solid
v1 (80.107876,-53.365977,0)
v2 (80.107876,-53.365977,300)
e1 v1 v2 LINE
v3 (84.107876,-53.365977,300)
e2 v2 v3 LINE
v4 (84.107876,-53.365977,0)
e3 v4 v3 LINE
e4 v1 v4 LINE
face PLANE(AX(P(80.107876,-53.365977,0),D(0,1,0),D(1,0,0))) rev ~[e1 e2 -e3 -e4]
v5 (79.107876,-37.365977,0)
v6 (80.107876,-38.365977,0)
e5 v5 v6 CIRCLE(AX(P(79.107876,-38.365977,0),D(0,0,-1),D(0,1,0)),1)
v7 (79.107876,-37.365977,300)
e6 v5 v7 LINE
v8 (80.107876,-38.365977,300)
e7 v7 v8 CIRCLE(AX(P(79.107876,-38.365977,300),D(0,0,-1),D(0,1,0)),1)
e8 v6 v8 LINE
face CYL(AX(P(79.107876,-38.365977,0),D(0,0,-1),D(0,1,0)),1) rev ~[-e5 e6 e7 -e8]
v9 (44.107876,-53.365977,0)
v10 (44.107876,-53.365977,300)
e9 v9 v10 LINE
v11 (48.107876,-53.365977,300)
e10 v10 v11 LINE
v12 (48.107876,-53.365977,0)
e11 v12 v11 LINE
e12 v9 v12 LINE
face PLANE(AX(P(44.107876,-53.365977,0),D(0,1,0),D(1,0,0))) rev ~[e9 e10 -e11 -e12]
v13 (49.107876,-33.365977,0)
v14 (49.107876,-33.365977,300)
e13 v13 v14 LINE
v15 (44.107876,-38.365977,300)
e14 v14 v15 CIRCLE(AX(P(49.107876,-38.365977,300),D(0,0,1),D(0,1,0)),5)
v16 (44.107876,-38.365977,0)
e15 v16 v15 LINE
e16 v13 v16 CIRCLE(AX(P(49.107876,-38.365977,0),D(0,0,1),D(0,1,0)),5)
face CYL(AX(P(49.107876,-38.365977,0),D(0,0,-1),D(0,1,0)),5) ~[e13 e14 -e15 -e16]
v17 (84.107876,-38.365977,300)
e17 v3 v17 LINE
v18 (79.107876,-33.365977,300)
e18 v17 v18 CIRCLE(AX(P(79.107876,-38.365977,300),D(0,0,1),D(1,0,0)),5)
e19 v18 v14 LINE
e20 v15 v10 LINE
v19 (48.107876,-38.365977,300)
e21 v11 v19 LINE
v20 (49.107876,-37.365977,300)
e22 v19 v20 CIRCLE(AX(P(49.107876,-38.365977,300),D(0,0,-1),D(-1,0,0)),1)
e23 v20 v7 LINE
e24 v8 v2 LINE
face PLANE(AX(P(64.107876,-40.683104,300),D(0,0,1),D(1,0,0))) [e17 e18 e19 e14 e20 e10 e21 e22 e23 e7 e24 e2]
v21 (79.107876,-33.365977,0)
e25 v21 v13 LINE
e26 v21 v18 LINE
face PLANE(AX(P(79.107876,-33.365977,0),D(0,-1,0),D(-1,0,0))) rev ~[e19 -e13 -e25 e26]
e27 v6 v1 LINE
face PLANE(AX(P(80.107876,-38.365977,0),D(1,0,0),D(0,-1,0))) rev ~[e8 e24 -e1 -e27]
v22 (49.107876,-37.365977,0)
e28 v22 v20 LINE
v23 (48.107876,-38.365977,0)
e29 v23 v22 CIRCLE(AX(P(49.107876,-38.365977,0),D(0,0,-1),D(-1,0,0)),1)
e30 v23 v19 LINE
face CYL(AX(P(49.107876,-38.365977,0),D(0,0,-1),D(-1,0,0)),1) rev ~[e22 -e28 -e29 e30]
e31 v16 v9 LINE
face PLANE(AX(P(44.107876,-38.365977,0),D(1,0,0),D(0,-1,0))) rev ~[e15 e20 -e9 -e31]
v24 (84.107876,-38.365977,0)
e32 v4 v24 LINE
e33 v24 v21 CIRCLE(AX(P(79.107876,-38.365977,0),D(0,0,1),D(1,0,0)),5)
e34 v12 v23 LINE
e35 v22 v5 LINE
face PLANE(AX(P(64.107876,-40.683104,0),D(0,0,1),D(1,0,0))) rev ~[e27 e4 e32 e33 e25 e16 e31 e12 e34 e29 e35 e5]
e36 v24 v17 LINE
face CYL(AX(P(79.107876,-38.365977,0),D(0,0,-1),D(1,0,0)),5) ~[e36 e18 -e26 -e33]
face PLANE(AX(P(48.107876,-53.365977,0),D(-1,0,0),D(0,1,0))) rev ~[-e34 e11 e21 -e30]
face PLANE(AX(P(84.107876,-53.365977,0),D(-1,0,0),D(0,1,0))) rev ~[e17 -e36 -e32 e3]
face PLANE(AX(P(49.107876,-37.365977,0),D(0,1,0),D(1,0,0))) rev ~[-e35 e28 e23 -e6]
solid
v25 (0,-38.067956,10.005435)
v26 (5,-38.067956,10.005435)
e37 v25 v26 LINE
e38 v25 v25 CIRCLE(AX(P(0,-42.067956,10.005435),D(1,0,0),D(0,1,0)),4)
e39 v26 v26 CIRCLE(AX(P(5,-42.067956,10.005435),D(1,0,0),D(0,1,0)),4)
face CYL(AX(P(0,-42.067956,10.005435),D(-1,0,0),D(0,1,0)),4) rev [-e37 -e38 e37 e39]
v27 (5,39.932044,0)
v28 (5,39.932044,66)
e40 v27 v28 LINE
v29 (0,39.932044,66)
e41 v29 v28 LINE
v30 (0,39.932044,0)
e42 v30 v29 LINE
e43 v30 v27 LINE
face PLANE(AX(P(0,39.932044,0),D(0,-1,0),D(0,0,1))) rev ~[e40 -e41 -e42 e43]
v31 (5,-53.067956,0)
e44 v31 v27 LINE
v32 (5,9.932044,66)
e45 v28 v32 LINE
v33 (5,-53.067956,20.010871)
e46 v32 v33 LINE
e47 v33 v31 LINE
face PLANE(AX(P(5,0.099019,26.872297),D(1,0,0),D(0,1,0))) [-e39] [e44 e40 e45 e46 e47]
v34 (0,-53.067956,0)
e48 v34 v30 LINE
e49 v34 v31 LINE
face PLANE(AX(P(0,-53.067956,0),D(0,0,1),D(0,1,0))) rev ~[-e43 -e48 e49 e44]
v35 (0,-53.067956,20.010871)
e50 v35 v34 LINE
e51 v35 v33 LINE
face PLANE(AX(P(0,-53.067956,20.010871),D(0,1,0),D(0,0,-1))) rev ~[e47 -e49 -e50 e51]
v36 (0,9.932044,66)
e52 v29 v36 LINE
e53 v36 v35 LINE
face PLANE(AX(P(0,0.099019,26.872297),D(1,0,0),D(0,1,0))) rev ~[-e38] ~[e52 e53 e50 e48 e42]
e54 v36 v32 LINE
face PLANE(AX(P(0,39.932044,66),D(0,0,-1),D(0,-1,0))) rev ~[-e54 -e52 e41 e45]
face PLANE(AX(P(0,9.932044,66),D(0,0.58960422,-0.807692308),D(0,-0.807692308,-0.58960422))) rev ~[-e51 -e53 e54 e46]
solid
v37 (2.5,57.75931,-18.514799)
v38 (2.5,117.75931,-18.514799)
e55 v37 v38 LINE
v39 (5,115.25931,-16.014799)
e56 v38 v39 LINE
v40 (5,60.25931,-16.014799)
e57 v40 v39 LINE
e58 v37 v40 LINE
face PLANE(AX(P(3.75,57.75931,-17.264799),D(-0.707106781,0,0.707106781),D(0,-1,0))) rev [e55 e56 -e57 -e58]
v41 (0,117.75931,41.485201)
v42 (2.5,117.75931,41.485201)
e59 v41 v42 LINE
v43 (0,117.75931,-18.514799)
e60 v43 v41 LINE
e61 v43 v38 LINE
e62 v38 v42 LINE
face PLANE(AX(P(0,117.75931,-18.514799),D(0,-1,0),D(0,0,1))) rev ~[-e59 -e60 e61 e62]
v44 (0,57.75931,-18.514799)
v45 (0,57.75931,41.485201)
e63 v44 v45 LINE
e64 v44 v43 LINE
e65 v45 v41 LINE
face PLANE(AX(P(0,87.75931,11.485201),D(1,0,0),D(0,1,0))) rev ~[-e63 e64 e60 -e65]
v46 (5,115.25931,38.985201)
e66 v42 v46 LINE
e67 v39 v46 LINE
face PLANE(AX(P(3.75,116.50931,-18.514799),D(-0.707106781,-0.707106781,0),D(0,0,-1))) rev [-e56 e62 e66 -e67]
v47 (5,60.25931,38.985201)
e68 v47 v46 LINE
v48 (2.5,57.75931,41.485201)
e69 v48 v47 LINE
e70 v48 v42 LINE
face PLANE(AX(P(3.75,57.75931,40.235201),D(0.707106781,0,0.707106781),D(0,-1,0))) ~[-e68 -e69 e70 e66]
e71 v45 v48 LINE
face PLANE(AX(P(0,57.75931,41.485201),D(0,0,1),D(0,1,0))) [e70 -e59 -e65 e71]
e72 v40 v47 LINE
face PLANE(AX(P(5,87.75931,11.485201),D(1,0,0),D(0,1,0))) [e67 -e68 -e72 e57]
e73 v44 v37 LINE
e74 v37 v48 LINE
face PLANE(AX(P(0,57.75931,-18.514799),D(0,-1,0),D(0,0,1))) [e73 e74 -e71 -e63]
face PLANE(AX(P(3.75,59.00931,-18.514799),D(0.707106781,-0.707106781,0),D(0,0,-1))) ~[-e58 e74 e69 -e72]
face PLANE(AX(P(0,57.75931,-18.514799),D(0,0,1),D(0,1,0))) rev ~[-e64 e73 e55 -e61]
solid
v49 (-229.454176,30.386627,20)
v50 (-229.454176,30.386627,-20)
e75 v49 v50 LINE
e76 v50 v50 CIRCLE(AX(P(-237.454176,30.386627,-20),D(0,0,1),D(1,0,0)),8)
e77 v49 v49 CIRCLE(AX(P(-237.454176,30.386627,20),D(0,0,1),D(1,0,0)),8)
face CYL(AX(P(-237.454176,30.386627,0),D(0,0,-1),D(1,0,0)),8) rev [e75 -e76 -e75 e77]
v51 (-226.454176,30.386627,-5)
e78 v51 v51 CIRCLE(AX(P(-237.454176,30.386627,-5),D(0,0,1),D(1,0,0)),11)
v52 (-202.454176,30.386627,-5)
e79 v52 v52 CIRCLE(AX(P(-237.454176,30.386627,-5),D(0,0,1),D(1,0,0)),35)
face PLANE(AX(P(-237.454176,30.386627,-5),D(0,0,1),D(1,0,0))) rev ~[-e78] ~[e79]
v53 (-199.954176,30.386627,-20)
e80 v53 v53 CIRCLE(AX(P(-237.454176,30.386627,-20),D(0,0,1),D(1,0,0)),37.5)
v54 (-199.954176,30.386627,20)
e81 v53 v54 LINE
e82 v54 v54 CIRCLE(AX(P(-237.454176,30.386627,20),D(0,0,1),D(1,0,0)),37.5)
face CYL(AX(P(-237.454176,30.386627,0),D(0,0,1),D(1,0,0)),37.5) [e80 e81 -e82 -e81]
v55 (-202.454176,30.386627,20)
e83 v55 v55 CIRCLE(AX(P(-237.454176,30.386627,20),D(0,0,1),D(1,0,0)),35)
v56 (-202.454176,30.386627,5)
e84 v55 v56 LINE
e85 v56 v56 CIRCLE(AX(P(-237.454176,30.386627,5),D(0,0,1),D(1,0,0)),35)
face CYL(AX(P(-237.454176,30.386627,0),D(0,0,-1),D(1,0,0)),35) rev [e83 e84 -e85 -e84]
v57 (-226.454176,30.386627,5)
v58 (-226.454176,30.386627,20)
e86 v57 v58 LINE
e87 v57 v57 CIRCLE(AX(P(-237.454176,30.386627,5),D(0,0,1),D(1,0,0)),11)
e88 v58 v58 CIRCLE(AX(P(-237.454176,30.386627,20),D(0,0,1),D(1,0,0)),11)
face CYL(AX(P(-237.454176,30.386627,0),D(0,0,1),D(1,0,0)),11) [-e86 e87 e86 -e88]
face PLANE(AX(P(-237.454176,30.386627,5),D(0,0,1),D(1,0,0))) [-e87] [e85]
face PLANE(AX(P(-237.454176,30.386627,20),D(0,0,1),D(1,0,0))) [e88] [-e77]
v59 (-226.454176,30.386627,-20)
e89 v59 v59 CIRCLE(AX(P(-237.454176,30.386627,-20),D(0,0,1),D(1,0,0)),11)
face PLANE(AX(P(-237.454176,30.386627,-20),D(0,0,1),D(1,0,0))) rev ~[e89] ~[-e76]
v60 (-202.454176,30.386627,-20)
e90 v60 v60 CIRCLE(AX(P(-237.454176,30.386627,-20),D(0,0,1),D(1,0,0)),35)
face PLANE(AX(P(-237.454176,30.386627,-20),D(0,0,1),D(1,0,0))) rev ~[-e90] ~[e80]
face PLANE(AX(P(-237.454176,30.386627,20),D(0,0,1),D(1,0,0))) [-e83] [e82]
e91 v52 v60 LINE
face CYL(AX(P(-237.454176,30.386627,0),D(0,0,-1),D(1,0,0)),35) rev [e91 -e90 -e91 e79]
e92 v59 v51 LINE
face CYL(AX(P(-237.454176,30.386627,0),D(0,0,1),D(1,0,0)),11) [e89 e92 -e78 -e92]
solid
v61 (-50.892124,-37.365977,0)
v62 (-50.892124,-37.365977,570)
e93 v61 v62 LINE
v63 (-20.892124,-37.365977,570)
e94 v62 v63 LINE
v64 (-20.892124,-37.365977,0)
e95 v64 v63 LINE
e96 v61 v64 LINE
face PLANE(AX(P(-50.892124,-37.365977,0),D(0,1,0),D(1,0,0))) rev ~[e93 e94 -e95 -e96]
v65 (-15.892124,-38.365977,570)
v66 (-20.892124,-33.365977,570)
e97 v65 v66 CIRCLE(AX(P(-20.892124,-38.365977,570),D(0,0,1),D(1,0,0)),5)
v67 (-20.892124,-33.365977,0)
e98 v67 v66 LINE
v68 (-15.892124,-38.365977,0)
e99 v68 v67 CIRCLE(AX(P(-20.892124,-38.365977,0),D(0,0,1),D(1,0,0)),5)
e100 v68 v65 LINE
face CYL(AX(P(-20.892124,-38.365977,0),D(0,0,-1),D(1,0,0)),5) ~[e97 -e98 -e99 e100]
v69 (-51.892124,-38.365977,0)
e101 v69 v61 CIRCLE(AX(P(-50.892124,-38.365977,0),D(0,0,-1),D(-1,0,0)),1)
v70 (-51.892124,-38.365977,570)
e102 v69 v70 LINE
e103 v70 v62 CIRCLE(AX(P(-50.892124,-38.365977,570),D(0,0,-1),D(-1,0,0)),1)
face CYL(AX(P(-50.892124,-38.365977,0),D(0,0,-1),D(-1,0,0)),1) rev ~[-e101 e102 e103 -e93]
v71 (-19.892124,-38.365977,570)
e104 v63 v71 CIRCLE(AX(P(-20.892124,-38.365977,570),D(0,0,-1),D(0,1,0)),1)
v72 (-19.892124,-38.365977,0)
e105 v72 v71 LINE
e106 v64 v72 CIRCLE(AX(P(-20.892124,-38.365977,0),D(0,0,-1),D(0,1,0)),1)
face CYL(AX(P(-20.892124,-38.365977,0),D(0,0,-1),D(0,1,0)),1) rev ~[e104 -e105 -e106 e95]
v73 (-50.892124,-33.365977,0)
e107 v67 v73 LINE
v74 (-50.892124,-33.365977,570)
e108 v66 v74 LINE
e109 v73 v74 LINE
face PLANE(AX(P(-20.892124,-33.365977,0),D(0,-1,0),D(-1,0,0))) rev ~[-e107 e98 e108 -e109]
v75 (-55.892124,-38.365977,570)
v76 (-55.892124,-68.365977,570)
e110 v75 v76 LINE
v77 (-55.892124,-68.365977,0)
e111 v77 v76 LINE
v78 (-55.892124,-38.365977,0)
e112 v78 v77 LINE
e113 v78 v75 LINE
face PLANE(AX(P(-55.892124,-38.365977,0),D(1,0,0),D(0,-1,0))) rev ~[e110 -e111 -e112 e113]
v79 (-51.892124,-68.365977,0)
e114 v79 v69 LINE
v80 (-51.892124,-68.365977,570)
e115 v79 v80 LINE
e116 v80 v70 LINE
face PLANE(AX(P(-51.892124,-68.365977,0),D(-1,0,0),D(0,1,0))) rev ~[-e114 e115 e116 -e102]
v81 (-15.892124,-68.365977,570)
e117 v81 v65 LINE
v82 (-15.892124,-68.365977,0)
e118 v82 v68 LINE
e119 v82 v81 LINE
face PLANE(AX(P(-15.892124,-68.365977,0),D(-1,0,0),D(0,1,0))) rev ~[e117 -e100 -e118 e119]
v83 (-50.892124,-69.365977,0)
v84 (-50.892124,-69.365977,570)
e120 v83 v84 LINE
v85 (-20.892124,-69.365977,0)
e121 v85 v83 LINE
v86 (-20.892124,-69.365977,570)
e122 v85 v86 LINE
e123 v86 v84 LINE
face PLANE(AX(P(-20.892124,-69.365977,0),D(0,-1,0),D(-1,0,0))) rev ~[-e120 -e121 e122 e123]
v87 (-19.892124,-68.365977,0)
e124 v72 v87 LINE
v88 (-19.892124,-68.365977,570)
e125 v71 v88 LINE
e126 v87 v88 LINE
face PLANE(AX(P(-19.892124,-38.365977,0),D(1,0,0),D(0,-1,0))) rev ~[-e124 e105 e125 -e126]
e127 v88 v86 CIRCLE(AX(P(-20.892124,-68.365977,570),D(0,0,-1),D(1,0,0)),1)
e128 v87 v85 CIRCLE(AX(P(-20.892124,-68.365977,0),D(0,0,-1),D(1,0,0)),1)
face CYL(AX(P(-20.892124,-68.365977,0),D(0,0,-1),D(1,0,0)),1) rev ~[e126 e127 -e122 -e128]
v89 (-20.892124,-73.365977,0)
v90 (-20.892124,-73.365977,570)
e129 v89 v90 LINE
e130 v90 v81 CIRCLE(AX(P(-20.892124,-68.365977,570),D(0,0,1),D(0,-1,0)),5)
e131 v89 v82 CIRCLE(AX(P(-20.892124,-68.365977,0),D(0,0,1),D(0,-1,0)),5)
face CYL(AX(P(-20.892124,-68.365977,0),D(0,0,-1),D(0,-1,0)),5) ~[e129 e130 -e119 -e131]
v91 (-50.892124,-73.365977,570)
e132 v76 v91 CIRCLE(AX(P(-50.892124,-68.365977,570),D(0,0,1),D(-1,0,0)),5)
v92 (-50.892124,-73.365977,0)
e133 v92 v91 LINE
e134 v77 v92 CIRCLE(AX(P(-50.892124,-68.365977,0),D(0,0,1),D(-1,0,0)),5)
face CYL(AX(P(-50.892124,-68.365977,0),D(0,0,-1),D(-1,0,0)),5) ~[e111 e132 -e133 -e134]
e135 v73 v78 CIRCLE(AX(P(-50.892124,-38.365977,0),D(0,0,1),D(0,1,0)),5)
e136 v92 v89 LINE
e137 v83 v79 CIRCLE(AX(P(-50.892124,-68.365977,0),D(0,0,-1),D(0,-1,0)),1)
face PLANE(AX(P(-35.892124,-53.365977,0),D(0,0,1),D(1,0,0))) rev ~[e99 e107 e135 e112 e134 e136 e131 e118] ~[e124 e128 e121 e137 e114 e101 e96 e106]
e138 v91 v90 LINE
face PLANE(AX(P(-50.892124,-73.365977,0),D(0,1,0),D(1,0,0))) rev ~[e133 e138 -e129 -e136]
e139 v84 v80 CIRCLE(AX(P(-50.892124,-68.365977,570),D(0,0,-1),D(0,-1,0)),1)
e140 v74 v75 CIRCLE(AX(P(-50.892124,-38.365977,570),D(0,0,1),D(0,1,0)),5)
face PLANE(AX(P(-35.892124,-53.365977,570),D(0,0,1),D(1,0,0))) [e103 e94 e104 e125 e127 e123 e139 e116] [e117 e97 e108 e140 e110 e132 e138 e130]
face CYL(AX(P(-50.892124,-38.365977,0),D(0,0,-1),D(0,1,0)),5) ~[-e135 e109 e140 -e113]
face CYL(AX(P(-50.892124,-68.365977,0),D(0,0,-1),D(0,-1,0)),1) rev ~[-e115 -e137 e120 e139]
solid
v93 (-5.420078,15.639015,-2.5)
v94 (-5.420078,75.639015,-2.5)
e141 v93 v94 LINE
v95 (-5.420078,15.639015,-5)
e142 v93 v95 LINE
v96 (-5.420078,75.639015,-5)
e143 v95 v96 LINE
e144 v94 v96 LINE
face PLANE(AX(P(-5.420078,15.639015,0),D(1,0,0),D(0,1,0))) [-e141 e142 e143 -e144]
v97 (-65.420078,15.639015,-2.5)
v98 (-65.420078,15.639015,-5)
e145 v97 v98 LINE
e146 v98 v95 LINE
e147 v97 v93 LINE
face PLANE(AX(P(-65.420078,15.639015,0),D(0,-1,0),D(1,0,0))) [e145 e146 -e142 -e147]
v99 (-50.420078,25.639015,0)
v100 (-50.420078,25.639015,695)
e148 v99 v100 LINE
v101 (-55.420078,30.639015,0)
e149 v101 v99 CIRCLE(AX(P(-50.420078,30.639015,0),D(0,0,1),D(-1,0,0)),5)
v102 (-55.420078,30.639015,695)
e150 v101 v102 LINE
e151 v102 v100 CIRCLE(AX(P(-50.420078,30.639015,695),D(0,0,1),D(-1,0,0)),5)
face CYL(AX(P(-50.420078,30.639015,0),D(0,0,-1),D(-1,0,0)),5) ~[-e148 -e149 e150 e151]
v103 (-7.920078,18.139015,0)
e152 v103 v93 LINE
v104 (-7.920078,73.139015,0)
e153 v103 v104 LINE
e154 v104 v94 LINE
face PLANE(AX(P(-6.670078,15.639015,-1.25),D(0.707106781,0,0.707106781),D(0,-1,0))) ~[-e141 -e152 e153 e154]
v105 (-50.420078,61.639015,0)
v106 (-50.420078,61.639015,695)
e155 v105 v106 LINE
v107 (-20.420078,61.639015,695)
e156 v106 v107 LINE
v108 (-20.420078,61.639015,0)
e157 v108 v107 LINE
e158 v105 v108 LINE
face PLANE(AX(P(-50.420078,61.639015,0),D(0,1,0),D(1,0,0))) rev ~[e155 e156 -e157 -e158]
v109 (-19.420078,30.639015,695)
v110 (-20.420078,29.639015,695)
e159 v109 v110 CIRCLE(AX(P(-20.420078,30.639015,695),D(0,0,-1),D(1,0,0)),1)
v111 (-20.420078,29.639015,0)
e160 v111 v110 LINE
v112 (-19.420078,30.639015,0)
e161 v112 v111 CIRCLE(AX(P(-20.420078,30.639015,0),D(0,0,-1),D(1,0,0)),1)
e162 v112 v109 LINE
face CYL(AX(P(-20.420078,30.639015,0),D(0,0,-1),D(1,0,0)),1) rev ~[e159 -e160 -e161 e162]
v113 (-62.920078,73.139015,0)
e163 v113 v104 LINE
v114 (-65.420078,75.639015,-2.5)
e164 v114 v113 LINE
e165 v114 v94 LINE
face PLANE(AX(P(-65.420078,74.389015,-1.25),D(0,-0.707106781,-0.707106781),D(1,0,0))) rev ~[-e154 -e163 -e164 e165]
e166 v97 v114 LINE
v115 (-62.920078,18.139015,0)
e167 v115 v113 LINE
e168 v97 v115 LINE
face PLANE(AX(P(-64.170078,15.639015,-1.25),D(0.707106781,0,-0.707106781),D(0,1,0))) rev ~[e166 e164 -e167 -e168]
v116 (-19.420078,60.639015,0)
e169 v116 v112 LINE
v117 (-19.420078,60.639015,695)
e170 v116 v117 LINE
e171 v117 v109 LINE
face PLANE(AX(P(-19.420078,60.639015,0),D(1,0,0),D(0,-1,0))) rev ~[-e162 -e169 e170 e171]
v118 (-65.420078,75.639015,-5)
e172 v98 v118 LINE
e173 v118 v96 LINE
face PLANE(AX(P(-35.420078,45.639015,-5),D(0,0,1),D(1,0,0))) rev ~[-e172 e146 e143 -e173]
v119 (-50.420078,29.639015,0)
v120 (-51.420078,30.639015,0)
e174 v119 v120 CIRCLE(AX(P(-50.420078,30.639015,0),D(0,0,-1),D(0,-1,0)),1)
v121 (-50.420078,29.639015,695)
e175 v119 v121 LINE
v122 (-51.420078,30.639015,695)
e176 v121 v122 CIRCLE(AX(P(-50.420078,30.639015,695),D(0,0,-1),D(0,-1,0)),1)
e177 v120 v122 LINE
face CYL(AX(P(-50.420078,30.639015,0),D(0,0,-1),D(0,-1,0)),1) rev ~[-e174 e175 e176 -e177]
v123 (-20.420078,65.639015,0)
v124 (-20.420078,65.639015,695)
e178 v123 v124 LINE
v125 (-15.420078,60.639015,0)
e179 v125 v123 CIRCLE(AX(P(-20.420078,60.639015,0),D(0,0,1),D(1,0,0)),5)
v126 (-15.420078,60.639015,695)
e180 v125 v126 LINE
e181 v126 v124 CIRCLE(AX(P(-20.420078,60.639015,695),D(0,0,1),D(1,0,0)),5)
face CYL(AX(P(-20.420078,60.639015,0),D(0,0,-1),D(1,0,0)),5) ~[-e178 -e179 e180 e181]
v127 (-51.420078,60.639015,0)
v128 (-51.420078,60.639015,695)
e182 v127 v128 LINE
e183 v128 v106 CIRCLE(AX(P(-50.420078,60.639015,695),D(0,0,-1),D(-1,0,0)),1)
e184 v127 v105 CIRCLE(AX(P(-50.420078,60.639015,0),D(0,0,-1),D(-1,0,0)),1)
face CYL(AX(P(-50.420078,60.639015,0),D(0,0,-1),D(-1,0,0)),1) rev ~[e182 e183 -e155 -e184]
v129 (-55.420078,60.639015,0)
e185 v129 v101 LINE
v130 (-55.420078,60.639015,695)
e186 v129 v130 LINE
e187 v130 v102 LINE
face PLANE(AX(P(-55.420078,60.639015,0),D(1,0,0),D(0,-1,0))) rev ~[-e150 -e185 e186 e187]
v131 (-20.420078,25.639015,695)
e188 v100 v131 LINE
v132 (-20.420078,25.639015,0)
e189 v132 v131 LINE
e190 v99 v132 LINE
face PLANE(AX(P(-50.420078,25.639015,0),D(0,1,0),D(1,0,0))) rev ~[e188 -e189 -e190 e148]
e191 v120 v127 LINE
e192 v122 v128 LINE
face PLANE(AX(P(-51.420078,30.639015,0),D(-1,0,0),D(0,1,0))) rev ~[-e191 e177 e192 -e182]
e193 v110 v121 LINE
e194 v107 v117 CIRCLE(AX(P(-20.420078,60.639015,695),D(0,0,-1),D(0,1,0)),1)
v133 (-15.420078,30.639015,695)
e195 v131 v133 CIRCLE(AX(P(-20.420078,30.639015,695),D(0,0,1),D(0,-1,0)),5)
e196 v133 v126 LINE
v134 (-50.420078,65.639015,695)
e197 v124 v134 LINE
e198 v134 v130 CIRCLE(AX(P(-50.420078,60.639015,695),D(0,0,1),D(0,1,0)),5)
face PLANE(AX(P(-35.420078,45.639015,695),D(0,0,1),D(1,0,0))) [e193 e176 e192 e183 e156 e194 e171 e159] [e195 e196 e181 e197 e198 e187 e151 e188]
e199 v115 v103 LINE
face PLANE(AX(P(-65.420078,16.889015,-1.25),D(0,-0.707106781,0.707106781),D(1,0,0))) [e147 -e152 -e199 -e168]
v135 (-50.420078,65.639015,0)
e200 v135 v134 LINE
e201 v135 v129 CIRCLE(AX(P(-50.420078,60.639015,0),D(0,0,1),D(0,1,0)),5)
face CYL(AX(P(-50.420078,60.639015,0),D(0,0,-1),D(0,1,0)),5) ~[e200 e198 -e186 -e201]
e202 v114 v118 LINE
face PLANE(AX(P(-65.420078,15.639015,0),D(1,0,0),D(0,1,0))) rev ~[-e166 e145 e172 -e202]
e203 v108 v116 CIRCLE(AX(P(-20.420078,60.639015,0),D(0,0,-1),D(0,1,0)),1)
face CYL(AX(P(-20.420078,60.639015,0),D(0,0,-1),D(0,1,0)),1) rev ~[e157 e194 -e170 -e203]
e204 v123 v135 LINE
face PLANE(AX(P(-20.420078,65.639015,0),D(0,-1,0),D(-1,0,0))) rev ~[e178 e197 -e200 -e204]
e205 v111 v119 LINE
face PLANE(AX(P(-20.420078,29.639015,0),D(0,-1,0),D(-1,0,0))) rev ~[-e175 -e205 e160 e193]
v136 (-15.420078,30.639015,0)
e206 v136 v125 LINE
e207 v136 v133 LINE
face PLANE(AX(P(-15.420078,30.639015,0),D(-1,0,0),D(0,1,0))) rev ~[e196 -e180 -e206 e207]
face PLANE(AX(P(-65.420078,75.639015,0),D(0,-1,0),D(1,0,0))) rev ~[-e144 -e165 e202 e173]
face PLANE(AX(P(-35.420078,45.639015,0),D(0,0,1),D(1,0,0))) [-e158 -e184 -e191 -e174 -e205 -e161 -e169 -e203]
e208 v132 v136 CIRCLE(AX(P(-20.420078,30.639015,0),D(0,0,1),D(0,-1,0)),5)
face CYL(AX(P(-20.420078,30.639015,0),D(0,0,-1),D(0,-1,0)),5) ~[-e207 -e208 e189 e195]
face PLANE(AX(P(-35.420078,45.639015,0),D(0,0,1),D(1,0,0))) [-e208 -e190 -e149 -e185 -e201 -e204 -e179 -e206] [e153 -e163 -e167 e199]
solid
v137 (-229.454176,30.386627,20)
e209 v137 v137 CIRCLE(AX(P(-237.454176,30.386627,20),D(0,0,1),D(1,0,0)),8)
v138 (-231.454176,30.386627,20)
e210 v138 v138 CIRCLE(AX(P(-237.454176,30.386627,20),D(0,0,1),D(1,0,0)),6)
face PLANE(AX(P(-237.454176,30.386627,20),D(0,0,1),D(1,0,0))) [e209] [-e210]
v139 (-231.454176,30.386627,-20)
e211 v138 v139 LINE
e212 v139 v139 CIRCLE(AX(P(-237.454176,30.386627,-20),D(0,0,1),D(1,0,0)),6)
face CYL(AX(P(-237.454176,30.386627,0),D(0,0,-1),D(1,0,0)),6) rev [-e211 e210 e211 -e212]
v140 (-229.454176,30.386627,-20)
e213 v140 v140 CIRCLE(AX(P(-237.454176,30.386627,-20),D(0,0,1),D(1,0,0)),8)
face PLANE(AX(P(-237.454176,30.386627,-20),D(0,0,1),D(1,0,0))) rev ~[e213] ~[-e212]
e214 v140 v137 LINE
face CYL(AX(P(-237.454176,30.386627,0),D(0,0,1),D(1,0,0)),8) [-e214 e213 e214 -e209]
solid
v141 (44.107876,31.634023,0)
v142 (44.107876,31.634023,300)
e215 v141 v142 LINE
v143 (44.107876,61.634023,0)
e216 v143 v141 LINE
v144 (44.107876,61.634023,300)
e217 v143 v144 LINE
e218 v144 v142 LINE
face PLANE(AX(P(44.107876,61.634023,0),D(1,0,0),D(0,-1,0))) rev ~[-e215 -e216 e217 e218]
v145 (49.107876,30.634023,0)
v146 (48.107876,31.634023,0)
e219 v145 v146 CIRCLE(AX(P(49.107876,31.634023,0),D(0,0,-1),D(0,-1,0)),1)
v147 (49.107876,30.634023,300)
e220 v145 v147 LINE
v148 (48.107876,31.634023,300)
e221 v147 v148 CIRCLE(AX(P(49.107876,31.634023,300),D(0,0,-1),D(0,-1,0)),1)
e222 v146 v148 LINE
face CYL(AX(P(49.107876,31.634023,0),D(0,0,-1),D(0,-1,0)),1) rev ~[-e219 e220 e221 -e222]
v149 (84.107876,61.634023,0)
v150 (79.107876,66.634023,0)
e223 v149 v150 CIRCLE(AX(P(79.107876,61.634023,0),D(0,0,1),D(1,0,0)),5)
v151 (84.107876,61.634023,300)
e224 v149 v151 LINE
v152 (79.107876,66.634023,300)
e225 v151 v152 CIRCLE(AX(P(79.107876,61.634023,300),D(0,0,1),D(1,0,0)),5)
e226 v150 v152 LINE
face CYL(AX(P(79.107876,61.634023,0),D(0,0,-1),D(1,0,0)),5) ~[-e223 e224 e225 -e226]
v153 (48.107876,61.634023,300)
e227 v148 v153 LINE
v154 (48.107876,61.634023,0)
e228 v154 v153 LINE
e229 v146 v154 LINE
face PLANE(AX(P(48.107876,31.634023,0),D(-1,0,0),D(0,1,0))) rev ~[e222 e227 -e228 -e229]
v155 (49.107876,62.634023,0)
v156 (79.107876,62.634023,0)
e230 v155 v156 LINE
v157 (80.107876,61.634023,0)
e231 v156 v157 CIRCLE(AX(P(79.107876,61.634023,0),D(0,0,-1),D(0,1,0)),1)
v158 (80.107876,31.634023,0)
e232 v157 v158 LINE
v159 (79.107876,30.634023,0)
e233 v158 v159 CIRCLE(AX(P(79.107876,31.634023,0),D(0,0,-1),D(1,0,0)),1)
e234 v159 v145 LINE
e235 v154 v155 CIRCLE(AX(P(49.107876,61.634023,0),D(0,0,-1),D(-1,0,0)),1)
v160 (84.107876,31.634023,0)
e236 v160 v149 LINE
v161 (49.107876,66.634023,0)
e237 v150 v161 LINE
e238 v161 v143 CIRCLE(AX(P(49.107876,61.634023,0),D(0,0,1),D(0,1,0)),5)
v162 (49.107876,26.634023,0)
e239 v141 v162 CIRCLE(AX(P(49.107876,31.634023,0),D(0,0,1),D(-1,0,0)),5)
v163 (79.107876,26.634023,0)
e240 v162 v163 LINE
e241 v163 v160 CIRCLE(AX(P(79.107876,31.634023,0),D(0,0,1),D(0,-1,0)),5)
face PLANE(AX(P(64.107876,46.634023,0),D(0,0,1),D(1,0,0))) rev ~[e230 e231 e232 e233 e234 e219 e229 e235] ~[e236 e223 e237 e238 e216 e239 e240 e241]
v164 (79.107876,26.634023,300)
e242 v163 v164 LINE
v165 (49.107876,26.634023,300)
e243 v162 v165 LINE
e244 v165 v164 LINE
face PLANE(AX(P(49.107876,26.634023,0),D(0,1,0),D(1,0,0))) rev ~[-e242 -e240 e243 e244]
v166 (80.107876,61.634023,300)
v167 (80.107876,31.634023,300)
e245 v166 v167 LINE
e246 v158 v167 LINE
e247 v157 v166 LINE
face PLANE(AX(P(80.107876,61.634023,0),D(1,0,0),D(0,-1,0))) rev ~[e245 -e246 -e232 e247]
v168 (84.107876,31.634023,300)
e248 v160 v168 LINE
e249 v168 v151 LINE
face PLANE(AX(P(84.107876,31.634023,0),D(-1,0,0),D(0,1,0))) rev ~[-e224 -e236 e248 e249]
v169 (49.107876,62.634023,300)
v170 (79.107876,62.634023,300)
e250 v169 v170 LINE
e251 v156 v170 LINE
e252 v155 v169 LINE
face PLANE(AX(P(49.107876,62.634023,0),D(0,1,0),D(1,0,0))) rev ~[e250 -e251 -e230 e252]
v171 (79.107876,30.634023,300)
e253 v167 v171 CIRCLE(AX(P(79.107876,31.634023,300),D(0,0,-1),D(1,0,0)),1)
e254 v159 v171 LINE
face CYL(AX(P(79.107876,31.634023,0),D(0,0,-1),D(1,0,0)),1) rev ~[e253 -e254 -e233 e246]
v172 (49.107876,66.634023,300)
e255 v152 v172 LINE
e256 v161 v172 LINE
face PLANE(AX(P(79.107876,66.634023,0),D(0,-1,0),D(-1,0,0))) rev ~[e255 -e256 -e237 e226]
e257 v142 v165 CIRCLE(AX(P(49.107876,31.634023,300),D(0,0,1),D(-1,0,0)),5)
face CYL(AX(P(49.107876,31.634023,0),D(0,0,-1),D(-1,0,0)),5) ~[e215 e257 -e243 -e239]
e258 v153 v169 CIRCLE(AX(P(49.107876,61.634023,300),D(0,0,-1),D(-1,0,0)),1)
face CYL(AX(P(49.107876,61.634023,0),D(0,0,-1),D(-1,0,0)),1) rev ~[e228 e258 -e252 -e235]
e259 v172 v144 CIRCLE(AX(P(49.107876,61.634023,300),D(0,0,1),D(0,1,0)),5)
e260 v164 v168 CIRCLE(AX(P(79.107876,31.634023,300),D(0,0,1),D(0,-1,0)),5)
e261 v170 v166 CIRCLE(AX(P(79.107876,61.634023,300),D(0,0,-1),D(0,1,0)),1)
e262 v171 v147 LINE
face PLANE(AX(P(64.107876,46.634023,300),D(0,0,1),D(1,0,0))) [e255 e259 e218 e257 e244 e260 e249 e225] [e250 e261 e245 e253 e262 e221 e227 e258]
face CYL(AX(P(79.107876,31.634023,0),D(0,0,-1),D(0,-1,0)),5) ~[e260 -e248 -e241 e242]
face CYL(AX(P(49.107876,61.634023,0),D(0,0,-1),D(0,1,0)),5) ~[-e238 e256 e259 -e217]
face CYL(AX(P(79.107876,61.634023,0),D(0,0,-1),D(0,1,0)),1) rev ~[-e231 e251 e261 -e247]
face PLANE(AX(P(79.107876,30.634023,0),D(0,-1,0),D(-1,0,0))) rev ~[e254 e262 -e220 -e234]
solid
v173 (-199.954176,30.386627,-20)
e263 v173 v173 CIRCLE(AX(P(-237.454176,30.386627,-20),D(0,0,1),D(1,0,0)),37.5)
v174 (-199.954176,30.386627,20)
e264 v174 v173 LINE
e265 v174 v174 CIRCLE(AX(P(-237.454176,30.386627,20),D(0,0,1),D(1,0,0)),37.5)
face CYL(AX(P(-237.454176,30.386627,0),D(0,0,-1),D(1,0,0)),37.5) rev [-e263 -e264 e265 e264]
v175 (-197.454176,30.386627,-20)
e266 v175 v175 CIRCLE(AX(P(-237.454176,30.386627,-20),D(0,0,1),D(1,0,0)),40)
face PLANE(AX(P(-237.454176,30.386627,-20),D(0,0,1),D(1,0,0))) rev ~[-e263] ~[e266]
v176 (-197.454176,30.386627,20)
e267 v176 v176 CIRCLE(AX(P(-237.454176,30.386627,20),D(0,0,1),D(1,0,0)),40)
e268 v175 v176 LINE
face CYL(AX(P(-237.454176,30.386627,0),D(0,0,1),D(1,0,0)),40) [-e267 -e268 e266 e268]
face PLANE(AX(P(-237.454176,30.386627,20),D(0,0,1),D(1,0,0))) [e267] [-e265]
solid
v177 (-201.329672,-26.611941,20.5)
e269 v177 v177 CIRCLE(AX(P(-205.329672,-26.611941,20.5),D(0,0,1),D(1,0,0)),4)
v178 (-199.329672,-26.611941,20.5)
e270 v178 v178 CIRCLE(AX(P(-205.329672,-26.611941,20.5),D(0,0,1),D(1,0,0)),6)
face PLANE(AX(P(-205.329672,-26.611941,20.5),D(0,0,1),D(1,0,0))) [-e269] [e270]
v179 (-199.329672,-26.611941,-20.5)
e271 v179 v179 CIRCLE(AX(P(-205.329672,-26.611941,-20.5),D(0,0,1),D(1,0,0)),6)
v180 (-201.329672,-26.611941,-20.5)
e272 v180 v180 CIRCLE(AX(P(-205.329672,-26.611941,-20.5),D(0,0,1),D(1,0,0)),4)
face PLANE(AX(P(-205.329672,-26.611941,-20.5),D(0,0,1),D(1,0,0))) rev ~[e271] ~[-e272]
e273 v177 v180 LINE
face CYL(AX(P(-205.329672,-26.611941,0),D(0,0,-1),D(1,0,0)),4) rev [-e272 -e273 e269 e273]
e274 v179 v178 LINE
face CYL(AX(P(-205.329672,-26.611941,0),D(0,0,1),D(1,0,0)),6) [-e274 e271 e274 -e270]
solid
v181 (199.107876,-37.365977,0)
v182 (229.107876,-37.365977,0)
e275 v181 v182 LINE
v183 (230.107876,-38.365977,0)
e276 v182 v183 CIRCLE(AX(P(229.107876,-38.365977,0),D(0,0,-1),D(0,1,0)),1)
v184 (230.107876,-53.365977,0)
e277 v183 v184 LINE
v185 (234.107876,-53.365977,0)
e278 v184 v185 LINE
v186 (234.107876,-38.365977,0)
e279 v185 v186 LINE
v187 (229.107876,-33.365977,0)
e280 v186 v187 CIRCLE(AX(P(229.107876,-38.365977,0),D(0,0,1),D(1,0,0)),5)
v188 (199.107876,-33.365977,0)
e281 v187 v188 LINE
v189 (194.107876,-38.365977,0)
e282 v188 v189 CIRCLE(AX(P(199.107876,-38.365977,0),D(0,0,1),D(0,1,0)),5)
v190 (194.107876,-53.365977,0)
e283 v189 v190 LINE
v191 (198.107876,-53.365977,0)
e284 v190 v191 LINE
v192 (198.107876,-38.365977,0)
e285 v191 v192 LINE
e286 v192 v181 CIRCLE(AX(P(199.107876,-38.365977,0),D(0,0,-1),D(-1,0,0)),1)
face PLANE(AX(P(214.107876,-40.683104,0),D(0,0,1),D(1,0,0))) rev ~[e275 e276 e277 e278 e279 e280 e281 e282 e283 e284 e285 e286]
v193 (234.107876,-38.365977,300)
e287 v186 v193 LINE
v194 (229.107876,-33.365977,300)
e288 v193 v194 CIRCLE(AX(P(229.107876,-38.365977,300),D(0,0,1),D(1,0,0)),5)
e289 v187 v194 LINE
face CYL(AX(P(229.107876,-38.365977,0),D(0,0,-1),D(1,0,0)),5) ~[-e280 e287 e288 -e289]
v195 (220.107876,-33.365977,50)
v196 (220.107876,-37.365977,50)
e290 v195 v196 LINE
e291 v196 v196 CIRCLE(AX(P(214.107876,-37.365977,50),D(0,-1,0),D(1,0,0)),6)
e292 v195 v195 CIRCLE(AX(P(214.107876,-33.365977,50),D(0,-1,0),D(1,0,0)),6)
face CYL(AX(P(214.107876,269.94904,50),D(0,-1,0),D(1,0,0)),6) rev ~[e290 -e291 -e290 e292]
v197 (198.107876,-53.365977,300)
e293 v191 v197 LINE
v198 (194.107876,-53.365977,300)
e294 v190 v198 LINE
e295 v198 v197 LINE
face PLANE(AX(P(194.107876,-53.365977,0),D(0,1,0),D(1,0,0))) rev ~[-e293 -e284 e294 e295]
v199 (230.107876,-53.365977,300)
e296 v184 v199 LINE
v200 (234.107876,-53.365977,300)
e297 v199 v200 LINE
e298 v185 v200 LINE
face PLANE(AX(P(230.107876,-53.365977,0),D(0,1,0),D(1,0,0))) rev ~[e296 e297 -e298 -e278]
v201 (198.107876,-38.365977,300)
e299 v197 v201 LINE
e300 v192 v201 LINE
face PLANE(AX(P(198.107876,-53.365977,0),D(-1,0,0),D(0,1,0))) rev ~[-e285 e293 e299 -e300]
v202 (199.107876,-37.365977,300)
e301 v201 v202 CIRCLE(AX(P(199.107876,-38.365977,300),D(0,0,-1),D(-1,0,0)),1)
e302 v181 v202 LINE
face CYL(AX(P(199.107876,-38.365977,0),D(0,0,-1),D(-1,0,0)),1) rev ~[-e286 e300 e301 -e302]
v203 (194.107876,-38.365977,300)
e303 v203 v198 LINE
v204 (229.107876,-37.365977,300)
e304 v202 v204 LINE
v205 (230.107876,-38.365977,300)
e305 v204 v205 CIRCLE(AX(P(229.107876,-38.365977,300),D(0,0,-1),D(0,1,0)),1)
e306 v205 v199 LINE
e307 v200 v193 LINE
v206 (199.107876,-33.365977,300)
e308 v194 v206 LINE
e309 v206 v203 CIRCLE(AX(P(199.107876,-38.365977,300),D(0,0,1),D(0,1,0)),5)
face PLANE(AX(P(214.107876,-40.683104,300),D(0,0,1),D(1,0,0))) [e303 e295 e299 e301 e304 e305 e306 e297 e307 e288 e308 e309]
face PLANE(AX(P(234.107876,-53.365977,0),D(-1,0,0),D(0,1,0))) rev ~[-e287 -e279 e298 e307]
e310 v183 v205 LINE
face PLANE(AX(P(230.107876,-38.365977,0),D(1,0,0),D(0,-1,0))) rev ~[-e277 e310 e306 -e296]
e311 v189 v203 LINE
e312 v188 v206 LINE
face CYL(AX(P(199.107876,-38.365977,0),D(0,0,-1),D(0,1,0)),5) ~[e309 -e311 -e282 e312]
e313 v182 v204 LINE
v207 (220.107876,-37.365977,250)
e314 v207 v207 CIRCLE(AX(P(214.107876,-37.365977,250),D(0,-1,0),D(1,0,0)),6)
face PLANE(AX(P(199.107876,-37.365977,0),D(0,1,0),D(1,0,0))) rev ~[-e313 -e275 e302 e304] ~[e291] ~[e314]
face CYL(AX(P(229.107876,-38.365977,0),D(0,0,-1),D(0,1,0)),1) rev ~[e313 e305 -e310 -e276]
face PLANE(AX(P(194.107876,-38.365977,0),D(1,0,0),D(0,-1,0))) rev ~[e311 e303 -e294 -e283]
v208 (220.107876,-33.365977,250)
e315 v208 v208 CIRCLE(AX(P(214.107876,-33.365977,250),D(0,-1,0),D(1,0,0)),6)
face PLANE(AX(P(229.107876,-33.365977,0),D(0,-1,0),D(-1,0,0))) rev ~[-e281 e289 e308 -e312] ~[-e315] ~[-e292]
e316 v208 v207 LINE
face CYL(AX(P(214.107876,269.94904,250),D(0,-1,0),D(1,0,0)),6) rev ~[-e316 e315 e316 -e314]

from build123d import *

# Parameters (mm, degrees)
F2_DEPTH  = 695
F3_DEPTH  = 570
F4_DEPTH  = 300
F5_DEPTH  = 300
F1_R      = 4
F6_DEPTH  = 5
F1_W      = 60
F1_H      = 60
F7_SIZE   = 2.5
F10_D     = 12
F0_W      = 60
F0_H      = 60
F0_W_2    = 30
F0_H_2    = 30
F11_DEPTH = 5
F12_SIZE  = 2.5
F13_R     = 8
F13_R_2   = 6
F14_DEPTH = 20
F13_R_3   = 11
F15_DEPTH = 20
F13_R_4   = 35
F16_DEPTH = 5
F13_R_5   = 37.5
F17_DEPTH = 20
F13_R_6   = 40
F18_DEPTH = 20
F13_R_7   = 4
F19_DEPTH = 20.5


with BuildPart() as f2:
    # F0 (on Top) → F2 (new body)
    with BuildSketch(Plane.XY):
        with BuildLine():
            Line((-20.4200784862, 65.6390154362), (-50.4200784862, 65.6390154362))
            ThreePointArc((-50.4200784862, 65.6390154362), (-53.9556123921, 64.1745493421), (-55.4200784862, 60.6390154362))
            Line((-55.4200784862, 60.6390154362), (-55.4200784862, 30.6390154362))
            ThreePointArc((-55.4200784862, 30.6390154362), (-53.9556123921, 27.1034815302), (-50.4200784862, 25.6390154362))
            Line((-50.4200784862, 25.6390154362), (-20.4200784862, 25.6390154362))
            ThreePointArc((-20.4200784862, 25.6390154362), (-16.8845445803, 27.1034815302), (-15.4200784862, 30.6390154362))
            Line((-15.4200784862, 30.6390154362), (-15.4200784862, 60.6390154362))
            ThreePointArc((-15.4200784862, 60.6390154362), (-16.8845445803, 64.1745493421), (-20.4200784862, 65.6390154362))
        make_face()
        with BuildLine():
            Line((-51.4200784862, 30.6390154362), (-51.4200784862, 60.6390154362))
            ThreePointArc((-51.4200784862, 60.6390154362), (-51.1271852674, 61.3461222174), (-50.4200784862, 61.6390154362))
            Line((-50.4200784862, 61.6390154362), (-20.4200784862, 61.6390154362))
            ThreePointArc((-20.4200784862, 61.6390154362), (-19.712971705, 61.3461222174), (-19.4200784862, 60.6390154362))
            Line((-19.4200784862, 60.6390154362), (-19.4200784862, 30.6390154362))
            ThreePointArc((-19.4200784862, 30.6390154362), (-19.712971705, 29.931908655), (-20.4200784862, 29.6390154362))
            Line((-20.4200784862, 29.6390154362), (-50.4200784862, 29.6390154362))
            ThreePointArc((-50.4200784862, 29.6390154362), (-51.1271852674, 29.931908655), (-51.4200784862, 30.6390154362))
        make_face(mode=Mode.SUBTRACT)
    extrude(amount=F2_DEPTH)

    # F0 (on Top) → F11 (join)
    with BuildSketch(Plane.XY):
        with Locations((-35.4200784862, 45.6390154362)):
            Rectangle(F0_W, F0_H)
        with BuildLine():
            ThreePointArc((-55.4200784862, 60.6390154362), (-53.9556123921, 64.1745493421), (-50.4200784862, 65.6390154362))
            Line((-50.4200784862, 65.6390154362), (-20.4200784862, 65.6390154362))
            ThreePointArc((-20.4200784862, 65.6390154362), (-16.8845445803, 64.1745493421), (-15.4200784862, 60.6390154362))
            Line((-15.4200784862, 60.6390154362), (-15.4200784862, 30.6390154362))
            ThreePointArc((-15.4200784862, 30.6390154362), (-16.8845445803, 27.1034815302), (-20.4200784862, 25.6390154362))
            Line((-20.4200784862, 25.6390154362), (-50.4200784862, 25.6390154362))
            ThreePointArc((-50.4200784862, 25.6390154362), (-53.9556123921, 27.1034815302), (-55.4200784862, 30.6390154362))
            Line((-55.4200784862, 30.6390154362), (-55.4200784862, 60.6390154362))
        make_face(mode=Mode.SUBTRACT)
        with BuildLine():
            Line((-20.4200784862, 65.6390154362), (-50.4200784862, 65.6390154362))
            ThreePointArc((-50.4200784862, 65.6390154362), (-53.9556123921, 64.1745493421), (-55.4200784862, 60.6390154362))
            Line((-55.4200784862, 60.6390154362), (-55.4200784862, 30.6390154362))
            ThreePointArc((-55.4200784862, 30.6390154362), (-53.9556123921, 27.1034815302), (-50.4200784862, 25.6390154362))
            Line((-50.4200784862, 25.6390154362), (-20.4200784862, 25.6390154362))
            ThreePointArc((-20.4200784862, 25.6390154362), (-16.8845445803, 27.1034815302), (-15.4200784862, 30.6390154362))
            Line((-15.4200784862, 30.6390154362), (-15.4200784862, 60.6390154362))
            ThreePointArc((-15.4200784862, 60.6390154362), (-16.8845445803, 64.1745493421), (-20.4200784862, 65.6390154362))
        make_face()
        with BuildLine():
            Line((-51.4200784862, 30.6390154362), (-51.4200784862, 60.6390154362))
            ThreePointArc((-51.4200784862, 60.6390154362), (-51.1271852674, 61.3461222174), (-50.4200784862, 61.6390154362))
            Line((-50.4200784862, 61.6390154362), (-20.4200784862, 61.6390154362))
            ThreePointArc((-20.4200784862, 61.6390154362), (-19.712971705, 61.3461222174), (-19.4200784862, 60.6390154362))
            Line((-19.4200784862, 60.6390154362), (-19.4200784862, 30.6390154362))
            ThreePointArc((-19.4200784862, 30.6390154362), (-19.712971705, 29.931908655), (-20.4200784862, 29.6390154362))
            Line((-20.4200784862, 29.6390154362), (-50.4200784862, 29.6390154362))
            ThreePointArc((-50.4200784862, 29.6390154362), (-51.1271852674, 29.931908655), (-51.4200784862, 30.6390154362))
        make_face(mode=Mode.SUBTRACT)
        with BuildLine():
            ThreePointArc((-50.4200784862, 61.6390154362), (-51.1271852674, 61.3461222174), (-51.4200784862, 60.6390154362))
            Line((-51.4200784862, 60.6390154362), (-51.4200784862, 30.6390154362))
            ThreePointArc((-51.4200784862, 30.6390154362), (-51.1271852674, 29.931908655), (-50.4200784862, 29.6390154362))
            Line((-50.4200784862, 29.6390154362), (-20.4200784862, 29.6390154362))
            ThreePointArc((-20.4200784862, 29.6390154362), (-19.712971705, 29.931908655), (-19.4200784862, 30.6390154362))
            Line((-19.4200784862, 30.6390154362), (-19.4200784862, 60.6390154362))
            ThreePointArc((-19.4200784862, 60.6390154362), (-19.712971705, 61.3461222174), (-20.4200784862, 61.6390154362))
            Line((-20.4200784862, 61.6390154362), (-50.4200784862, 61.6390154362))
        make_face()
        with Locations((-35.4200784862, 45.6390154362)):
            Rectangle(F0_W_2, F0_H_2, mode=Mode.SUBTRACT)
        with Locations((-35.4200784862, 45.6390154362)):
            Rectangle(F0_W_2, F0_H_2)
    extrude(amount=-F11_DEPTH)

    # F12
    f12_edges = [f2.edges().sort_by_distance(p)[0] for p in [
        (-5.420078, 45.639015, 0),
        (-35.420078, 15.639015, 0),
        (-35.420078, 75.639015, 0),
        (-65.420078, 45.639015, 0),
    ]]
    chamfer(f12_edges, length=F12_SIZE)


with BuildPart() as f3:
    # F0 (on Top) → F3 (new body)
    with BuildSketch(Plane.XY):
        with BuildLine():
            Line((-20.8921238035, -33.3659774065), (-50.8921238035, -33.3659774065))
            ThreePointArc((-50.8921238035, -33.3659774065), (-54.4276577094, -34.8304435006), (-55.8921238035, -38.3659774065))
            Line((-55.8921238035, -38.3659774065), (-55.8921238035, -68.3659774065))
            ThreePointArc((-55.8921238035, -68.3659774065), (-54.4276577094, -71.9015113124), (-50.8921238035, -73.3659774065))
            Line((-50.8921238035, -73.3659774065), (-20.8921238035, -73.3659774065))
            ThreePointArc((-20.8921238035, -73.3659774065), (-17.3565898976, -71.9015113124), (-15.8921238035, -68.3659774065))
            Line((-15.8921238035, -68.3659774065), (-15.8921238035, -38.3659774065))
            ThreePointArc((-15.8921238035, -38.3659774065), (-17.3565898976, -34.8304435006), (-20.8921238035, -33.3659774065))
        make_face()
        with BuildLine():
            Line((-20.8921238035, -69.3659774065), (-50.8921238035, -69.3659774065))
            ThreePointArc((-50.8921238035, -69.3659774065), (-51.5992305847, -69.0730841877), (-51.8921238035, -68.3659774065))
            Line((-51.8921238035, -68.3659774065), (-51.8921238035, -38.3659774065))
            ThreePointArc((-51.8921238035, -38.3659774065), (-51.5992305847, -37.6588706253), (-50.8921238035, -37.3659774065))
            Line((-50.8921238035, -37.3659774065), (-20.8921238035, -37.3659774065))
            ThreePointArc((-20.8921238035, -37.3659774065), (-20.1850170223, -37.6588706253), (-19.8921238035, -38.3659774065))
            Line((-19.8921238035, -38.3659774065), (-19.8921238035, -68.3659774065))
            ThreePointArc((-19.8921238035, -68.3659774065), (-20.1850170223, -69.0730841877), (-20.8921238035, -69.3659774065))
        make_face(mode=Mode.SUBTRACT)
    extrude(amount=F3_DEPTH)


with BuildPart() as f4:
    # F0 (on Top) → F4 (new body)
    with BuildSketch(Plane.XY):
        with BuildLine():
            Line((79.1078761965, 66.6340225935), (49.1078761965, 66.6340225935))
            ThreePointArc((49.1078761965, 66.6340225935), (45.5723422906, 65.1695564994), (44.1078761965, 61.6340225935))
            Line((44.1078761965, 61.6340225935), (44.1078761965, 31.6340225935))
            ThreePointArc((44.1078761965, 31.6340225935), (45.5723422906, 28.0984886876), (49.1078761965, 26.6340225935))
            Line((49.1078761965, 26.6340225935), (79.1078761965, 26.6340225935))
            ThreePointArc((79.1078761965, 26.6340225935), (82.6434101024, 28.0984886876), (84.1078761965, 31.6340225935))
            Line((84.1078761965, 31.6340225935), (84.1078761965, 61.6340225935))
            ThreePointArc((84.1078761965, 61.6340225935), (82.6434101024, 65.1695564994), (79.1078761965, 66.6340225935))
        make_face()
        with BuildLine():
            Line((79.1078761965, 30.6340225935), (49.1078761965, 30.6340225935))
            ThreePointArc((49.1078761965, 30.6340225935), (48.4007694153, 30.9269158123), (48.1078761965, 31.6340225935))
            Line((48.1078761965, 31.6340225935), (48.1078761965, 61.6340225935))
            ThreePointArc((48.1078761965, 61.6340225935), (48.4007694153, 62.3411293747), (49.1078761965, 62.6340225935))
            Line((49.1078761965, 62.6340225935), (79.1078761965, 62.6340225935))
            ThreePointArc((79.1078761965, 62.6340225935), (79.8149829777, 62.3411293747), (80.1078761965, 61.6340225935))
            Line((80.1078761965, 61.6340225935), (80.1078761965, 31.6340225935))
            ThreePointArc((80.1078761965, 31.6340225935), (79.8149829777, 30.9269158123), (79.1078761965, 30.6340225935))
        make_face(mode=Mode.SUBTRACT)
    extrude(amount=F4_DEPTH)


with BuildPart() as f5:
    # F0 (on Top) → F5 (new body)
    with BuildSketch(Plane.XY):
        with BuildLine():
            ThreePointArc((48.1078761965, -38.3659774065), (48.4007694153, -37.6588706253), (49.1078761965, -37.3659774065))
            Line((49.1078761965, -37.3659774065), (79.1078761965, -37.3659774065))
            ThreePointArc((79.1078761965, -37.3659774065), (79.8149829777, -37.6588706253), (80.1078761965, -38.3659774065))
            Line((80.1078761965, -38.3659774065), (80.1078761965, -53.3659774065))
            Line((80.1078761965, -53.3659774065), (84.1078761965, -53.3659774065))
            Line((84.1078761965, -53.3659774065), (84.1078761965, -38.3659774065))
            ThreePointArc((84.1078761965, -38.3659774065), (82.6434101024, -34.8304435006), (79.1078761965, -33.3659774065))
            Line((79.1078761965, -33.3659774065), (49.1078761965, -33.3659774065))
            ThreePointArc((49.1078761965, -33.3659774065), (45.5723422906, -34.8304435006), (44.1078761965, -38.3659774065))
            Line((44.1078761965, -38.3659774065), (44.1078761965, -53.3659774065))
            Line((44.1078761965, -53.3659774065), (48.1078761965, -53.3659774065))
            Line((48.1078761965, -53.3659774065), (48.1078761965, -38.3659774065))
        make_face()
    extrude(amount=F5_DEPTH)


with BuildPart() as f6:
    # F1 (on Right) → F6 (new body)
    with BuildSketch(Plane.YZ):
        Polygon((-53.0679564238, 20.0108708497), (-53.0679564238, 0), (39.9320435762, 0), (39.9320435762, 66), (9.9320435762, 66), align=None)
        with Locations((-42.0679564238, 10.0054354249)):
            Circle(F1_R, mode=Mode.SUBTRACT)
    extrude(amount=F6_DEPTH)


with BuildPart() as f6b:
    # F1 (on Right) → F6, piece 2 (new body)
    with BuildSketch(Plane.YZ):
        with Locations((87.7593097091, 11.4852010459)):
            Rectangle(F1_W, F1_H)
    extrude(amount=F6_DEPTH)

    # F7
    f7_edges = [f6b.edges().sort_by_distance(p)[0] for p in [
        (5, 87.75931, 41.485201),
        (5, 117.75931, 11.485201),
        (5, 57.75931, 11.485201),
        (5, 87.75931, -18.514799),
    ]]
    chamfer(f7_edges, length=F7_SIZE)


with BuildPart() as f8_1:
    # F8: copy of F5
    add(f5.part.moved(Location((150, 0, 0))))

    # F10 (through all)
    with Locations(Plane(origin=(0, -33.3659774065, 0), x_dir=(-1, 0, 0), z_dir=(0, 1, 0))):
        with Locations((-214.1078761965, 50), (-214.1078761965, 250)):
            Hole(F10_D / 2)


with BuildPart() as f14:
    # F13 (on Top) → F14 (new body, symmetric)
    with BuildSketch(Plane.XY):
        with Locations((-237.4541759491, 30.3866267204)):
            Circle(F13_R)
        with Locations((-237.4541759491, 30.3866267204)):
            Circle(F13_R_2, mode=Mode.SUBTRACT)
    extrude(amount=F14_DEPTH, both=True)


with BuildPart() as f15:
    # F13 (on Top) → F15 (new body, symmetric)
    with BuildSketch(Plane.XY):
        with Locations((-237.4541759491, 30.3866267204)):
            Circle(F13_R_3)
        with Locations((-237.4541759491, 30.3866267204)):
            Circle(F13_R, mode=Mode.SUBTRACT)
    extrude(amount=F15_DEPTH, both=True)

    # F13 (on Top) → F16 (join, symmetric)
    with BuildSketch(Plane.XY):
        with Locations((-237.4541759491, 30.3866267204)):
            Circle(F13_R_4)
        with Locations((-237.4541759491, 30.3866267204)):
            Circle(F13_R_3, mode=Mode.SUBTRACT)
    extrude(amount=F16_DEPTH, both=True)

    # F13 (on Top) → F17 (join, symmetric)
    with BuildSketch(Plane.XY):
        with Locations((-237.4541759491, 30.3866267204)):
            Circle(F13_R_5)
        with Locations((-237.4541759491, 30.3866267204)):
            Circle(F13_R_4, mode=Mode.SUBTRACT)
    extrude(amount=F17_DEPTH, both=True)


with BuildPart() as f18:
    # F13 (on Top) → F18 (new body, symmetric)
    with BuildSketch(Plane.XY):
        with Locations((-237.4541759491, 30.3866267204)):
            Circle(F13_R_6)
        with Locations((-237.4541759491, 30.3866267204)):
            Circle(F13_R_5, mode=Mode.SUBTRACT)
    extrude(amount=F18_DEPTH, both=True)


with BuildPart() as f19:
    # F13 (on Top) → F19 (new body, symmetric)
    with BuildSketch(Plane.XY):
        with Locations((-205.3296715021, -26.6119409353)):
            Circle(F13_R_2)
        with Locations((-205.3296715021, -26.6119409353)):
            Circle(F13_R_7, mode=Mode.SUBTRACT)
    extrude(amount=F19_DEPTH, both=True)


solid = Compound([f2.part, f3.part, f4.part, f5.part, f6.part, f6b.part, f8_1.part, f14.part, f15.part, f18.part, f19.part])
